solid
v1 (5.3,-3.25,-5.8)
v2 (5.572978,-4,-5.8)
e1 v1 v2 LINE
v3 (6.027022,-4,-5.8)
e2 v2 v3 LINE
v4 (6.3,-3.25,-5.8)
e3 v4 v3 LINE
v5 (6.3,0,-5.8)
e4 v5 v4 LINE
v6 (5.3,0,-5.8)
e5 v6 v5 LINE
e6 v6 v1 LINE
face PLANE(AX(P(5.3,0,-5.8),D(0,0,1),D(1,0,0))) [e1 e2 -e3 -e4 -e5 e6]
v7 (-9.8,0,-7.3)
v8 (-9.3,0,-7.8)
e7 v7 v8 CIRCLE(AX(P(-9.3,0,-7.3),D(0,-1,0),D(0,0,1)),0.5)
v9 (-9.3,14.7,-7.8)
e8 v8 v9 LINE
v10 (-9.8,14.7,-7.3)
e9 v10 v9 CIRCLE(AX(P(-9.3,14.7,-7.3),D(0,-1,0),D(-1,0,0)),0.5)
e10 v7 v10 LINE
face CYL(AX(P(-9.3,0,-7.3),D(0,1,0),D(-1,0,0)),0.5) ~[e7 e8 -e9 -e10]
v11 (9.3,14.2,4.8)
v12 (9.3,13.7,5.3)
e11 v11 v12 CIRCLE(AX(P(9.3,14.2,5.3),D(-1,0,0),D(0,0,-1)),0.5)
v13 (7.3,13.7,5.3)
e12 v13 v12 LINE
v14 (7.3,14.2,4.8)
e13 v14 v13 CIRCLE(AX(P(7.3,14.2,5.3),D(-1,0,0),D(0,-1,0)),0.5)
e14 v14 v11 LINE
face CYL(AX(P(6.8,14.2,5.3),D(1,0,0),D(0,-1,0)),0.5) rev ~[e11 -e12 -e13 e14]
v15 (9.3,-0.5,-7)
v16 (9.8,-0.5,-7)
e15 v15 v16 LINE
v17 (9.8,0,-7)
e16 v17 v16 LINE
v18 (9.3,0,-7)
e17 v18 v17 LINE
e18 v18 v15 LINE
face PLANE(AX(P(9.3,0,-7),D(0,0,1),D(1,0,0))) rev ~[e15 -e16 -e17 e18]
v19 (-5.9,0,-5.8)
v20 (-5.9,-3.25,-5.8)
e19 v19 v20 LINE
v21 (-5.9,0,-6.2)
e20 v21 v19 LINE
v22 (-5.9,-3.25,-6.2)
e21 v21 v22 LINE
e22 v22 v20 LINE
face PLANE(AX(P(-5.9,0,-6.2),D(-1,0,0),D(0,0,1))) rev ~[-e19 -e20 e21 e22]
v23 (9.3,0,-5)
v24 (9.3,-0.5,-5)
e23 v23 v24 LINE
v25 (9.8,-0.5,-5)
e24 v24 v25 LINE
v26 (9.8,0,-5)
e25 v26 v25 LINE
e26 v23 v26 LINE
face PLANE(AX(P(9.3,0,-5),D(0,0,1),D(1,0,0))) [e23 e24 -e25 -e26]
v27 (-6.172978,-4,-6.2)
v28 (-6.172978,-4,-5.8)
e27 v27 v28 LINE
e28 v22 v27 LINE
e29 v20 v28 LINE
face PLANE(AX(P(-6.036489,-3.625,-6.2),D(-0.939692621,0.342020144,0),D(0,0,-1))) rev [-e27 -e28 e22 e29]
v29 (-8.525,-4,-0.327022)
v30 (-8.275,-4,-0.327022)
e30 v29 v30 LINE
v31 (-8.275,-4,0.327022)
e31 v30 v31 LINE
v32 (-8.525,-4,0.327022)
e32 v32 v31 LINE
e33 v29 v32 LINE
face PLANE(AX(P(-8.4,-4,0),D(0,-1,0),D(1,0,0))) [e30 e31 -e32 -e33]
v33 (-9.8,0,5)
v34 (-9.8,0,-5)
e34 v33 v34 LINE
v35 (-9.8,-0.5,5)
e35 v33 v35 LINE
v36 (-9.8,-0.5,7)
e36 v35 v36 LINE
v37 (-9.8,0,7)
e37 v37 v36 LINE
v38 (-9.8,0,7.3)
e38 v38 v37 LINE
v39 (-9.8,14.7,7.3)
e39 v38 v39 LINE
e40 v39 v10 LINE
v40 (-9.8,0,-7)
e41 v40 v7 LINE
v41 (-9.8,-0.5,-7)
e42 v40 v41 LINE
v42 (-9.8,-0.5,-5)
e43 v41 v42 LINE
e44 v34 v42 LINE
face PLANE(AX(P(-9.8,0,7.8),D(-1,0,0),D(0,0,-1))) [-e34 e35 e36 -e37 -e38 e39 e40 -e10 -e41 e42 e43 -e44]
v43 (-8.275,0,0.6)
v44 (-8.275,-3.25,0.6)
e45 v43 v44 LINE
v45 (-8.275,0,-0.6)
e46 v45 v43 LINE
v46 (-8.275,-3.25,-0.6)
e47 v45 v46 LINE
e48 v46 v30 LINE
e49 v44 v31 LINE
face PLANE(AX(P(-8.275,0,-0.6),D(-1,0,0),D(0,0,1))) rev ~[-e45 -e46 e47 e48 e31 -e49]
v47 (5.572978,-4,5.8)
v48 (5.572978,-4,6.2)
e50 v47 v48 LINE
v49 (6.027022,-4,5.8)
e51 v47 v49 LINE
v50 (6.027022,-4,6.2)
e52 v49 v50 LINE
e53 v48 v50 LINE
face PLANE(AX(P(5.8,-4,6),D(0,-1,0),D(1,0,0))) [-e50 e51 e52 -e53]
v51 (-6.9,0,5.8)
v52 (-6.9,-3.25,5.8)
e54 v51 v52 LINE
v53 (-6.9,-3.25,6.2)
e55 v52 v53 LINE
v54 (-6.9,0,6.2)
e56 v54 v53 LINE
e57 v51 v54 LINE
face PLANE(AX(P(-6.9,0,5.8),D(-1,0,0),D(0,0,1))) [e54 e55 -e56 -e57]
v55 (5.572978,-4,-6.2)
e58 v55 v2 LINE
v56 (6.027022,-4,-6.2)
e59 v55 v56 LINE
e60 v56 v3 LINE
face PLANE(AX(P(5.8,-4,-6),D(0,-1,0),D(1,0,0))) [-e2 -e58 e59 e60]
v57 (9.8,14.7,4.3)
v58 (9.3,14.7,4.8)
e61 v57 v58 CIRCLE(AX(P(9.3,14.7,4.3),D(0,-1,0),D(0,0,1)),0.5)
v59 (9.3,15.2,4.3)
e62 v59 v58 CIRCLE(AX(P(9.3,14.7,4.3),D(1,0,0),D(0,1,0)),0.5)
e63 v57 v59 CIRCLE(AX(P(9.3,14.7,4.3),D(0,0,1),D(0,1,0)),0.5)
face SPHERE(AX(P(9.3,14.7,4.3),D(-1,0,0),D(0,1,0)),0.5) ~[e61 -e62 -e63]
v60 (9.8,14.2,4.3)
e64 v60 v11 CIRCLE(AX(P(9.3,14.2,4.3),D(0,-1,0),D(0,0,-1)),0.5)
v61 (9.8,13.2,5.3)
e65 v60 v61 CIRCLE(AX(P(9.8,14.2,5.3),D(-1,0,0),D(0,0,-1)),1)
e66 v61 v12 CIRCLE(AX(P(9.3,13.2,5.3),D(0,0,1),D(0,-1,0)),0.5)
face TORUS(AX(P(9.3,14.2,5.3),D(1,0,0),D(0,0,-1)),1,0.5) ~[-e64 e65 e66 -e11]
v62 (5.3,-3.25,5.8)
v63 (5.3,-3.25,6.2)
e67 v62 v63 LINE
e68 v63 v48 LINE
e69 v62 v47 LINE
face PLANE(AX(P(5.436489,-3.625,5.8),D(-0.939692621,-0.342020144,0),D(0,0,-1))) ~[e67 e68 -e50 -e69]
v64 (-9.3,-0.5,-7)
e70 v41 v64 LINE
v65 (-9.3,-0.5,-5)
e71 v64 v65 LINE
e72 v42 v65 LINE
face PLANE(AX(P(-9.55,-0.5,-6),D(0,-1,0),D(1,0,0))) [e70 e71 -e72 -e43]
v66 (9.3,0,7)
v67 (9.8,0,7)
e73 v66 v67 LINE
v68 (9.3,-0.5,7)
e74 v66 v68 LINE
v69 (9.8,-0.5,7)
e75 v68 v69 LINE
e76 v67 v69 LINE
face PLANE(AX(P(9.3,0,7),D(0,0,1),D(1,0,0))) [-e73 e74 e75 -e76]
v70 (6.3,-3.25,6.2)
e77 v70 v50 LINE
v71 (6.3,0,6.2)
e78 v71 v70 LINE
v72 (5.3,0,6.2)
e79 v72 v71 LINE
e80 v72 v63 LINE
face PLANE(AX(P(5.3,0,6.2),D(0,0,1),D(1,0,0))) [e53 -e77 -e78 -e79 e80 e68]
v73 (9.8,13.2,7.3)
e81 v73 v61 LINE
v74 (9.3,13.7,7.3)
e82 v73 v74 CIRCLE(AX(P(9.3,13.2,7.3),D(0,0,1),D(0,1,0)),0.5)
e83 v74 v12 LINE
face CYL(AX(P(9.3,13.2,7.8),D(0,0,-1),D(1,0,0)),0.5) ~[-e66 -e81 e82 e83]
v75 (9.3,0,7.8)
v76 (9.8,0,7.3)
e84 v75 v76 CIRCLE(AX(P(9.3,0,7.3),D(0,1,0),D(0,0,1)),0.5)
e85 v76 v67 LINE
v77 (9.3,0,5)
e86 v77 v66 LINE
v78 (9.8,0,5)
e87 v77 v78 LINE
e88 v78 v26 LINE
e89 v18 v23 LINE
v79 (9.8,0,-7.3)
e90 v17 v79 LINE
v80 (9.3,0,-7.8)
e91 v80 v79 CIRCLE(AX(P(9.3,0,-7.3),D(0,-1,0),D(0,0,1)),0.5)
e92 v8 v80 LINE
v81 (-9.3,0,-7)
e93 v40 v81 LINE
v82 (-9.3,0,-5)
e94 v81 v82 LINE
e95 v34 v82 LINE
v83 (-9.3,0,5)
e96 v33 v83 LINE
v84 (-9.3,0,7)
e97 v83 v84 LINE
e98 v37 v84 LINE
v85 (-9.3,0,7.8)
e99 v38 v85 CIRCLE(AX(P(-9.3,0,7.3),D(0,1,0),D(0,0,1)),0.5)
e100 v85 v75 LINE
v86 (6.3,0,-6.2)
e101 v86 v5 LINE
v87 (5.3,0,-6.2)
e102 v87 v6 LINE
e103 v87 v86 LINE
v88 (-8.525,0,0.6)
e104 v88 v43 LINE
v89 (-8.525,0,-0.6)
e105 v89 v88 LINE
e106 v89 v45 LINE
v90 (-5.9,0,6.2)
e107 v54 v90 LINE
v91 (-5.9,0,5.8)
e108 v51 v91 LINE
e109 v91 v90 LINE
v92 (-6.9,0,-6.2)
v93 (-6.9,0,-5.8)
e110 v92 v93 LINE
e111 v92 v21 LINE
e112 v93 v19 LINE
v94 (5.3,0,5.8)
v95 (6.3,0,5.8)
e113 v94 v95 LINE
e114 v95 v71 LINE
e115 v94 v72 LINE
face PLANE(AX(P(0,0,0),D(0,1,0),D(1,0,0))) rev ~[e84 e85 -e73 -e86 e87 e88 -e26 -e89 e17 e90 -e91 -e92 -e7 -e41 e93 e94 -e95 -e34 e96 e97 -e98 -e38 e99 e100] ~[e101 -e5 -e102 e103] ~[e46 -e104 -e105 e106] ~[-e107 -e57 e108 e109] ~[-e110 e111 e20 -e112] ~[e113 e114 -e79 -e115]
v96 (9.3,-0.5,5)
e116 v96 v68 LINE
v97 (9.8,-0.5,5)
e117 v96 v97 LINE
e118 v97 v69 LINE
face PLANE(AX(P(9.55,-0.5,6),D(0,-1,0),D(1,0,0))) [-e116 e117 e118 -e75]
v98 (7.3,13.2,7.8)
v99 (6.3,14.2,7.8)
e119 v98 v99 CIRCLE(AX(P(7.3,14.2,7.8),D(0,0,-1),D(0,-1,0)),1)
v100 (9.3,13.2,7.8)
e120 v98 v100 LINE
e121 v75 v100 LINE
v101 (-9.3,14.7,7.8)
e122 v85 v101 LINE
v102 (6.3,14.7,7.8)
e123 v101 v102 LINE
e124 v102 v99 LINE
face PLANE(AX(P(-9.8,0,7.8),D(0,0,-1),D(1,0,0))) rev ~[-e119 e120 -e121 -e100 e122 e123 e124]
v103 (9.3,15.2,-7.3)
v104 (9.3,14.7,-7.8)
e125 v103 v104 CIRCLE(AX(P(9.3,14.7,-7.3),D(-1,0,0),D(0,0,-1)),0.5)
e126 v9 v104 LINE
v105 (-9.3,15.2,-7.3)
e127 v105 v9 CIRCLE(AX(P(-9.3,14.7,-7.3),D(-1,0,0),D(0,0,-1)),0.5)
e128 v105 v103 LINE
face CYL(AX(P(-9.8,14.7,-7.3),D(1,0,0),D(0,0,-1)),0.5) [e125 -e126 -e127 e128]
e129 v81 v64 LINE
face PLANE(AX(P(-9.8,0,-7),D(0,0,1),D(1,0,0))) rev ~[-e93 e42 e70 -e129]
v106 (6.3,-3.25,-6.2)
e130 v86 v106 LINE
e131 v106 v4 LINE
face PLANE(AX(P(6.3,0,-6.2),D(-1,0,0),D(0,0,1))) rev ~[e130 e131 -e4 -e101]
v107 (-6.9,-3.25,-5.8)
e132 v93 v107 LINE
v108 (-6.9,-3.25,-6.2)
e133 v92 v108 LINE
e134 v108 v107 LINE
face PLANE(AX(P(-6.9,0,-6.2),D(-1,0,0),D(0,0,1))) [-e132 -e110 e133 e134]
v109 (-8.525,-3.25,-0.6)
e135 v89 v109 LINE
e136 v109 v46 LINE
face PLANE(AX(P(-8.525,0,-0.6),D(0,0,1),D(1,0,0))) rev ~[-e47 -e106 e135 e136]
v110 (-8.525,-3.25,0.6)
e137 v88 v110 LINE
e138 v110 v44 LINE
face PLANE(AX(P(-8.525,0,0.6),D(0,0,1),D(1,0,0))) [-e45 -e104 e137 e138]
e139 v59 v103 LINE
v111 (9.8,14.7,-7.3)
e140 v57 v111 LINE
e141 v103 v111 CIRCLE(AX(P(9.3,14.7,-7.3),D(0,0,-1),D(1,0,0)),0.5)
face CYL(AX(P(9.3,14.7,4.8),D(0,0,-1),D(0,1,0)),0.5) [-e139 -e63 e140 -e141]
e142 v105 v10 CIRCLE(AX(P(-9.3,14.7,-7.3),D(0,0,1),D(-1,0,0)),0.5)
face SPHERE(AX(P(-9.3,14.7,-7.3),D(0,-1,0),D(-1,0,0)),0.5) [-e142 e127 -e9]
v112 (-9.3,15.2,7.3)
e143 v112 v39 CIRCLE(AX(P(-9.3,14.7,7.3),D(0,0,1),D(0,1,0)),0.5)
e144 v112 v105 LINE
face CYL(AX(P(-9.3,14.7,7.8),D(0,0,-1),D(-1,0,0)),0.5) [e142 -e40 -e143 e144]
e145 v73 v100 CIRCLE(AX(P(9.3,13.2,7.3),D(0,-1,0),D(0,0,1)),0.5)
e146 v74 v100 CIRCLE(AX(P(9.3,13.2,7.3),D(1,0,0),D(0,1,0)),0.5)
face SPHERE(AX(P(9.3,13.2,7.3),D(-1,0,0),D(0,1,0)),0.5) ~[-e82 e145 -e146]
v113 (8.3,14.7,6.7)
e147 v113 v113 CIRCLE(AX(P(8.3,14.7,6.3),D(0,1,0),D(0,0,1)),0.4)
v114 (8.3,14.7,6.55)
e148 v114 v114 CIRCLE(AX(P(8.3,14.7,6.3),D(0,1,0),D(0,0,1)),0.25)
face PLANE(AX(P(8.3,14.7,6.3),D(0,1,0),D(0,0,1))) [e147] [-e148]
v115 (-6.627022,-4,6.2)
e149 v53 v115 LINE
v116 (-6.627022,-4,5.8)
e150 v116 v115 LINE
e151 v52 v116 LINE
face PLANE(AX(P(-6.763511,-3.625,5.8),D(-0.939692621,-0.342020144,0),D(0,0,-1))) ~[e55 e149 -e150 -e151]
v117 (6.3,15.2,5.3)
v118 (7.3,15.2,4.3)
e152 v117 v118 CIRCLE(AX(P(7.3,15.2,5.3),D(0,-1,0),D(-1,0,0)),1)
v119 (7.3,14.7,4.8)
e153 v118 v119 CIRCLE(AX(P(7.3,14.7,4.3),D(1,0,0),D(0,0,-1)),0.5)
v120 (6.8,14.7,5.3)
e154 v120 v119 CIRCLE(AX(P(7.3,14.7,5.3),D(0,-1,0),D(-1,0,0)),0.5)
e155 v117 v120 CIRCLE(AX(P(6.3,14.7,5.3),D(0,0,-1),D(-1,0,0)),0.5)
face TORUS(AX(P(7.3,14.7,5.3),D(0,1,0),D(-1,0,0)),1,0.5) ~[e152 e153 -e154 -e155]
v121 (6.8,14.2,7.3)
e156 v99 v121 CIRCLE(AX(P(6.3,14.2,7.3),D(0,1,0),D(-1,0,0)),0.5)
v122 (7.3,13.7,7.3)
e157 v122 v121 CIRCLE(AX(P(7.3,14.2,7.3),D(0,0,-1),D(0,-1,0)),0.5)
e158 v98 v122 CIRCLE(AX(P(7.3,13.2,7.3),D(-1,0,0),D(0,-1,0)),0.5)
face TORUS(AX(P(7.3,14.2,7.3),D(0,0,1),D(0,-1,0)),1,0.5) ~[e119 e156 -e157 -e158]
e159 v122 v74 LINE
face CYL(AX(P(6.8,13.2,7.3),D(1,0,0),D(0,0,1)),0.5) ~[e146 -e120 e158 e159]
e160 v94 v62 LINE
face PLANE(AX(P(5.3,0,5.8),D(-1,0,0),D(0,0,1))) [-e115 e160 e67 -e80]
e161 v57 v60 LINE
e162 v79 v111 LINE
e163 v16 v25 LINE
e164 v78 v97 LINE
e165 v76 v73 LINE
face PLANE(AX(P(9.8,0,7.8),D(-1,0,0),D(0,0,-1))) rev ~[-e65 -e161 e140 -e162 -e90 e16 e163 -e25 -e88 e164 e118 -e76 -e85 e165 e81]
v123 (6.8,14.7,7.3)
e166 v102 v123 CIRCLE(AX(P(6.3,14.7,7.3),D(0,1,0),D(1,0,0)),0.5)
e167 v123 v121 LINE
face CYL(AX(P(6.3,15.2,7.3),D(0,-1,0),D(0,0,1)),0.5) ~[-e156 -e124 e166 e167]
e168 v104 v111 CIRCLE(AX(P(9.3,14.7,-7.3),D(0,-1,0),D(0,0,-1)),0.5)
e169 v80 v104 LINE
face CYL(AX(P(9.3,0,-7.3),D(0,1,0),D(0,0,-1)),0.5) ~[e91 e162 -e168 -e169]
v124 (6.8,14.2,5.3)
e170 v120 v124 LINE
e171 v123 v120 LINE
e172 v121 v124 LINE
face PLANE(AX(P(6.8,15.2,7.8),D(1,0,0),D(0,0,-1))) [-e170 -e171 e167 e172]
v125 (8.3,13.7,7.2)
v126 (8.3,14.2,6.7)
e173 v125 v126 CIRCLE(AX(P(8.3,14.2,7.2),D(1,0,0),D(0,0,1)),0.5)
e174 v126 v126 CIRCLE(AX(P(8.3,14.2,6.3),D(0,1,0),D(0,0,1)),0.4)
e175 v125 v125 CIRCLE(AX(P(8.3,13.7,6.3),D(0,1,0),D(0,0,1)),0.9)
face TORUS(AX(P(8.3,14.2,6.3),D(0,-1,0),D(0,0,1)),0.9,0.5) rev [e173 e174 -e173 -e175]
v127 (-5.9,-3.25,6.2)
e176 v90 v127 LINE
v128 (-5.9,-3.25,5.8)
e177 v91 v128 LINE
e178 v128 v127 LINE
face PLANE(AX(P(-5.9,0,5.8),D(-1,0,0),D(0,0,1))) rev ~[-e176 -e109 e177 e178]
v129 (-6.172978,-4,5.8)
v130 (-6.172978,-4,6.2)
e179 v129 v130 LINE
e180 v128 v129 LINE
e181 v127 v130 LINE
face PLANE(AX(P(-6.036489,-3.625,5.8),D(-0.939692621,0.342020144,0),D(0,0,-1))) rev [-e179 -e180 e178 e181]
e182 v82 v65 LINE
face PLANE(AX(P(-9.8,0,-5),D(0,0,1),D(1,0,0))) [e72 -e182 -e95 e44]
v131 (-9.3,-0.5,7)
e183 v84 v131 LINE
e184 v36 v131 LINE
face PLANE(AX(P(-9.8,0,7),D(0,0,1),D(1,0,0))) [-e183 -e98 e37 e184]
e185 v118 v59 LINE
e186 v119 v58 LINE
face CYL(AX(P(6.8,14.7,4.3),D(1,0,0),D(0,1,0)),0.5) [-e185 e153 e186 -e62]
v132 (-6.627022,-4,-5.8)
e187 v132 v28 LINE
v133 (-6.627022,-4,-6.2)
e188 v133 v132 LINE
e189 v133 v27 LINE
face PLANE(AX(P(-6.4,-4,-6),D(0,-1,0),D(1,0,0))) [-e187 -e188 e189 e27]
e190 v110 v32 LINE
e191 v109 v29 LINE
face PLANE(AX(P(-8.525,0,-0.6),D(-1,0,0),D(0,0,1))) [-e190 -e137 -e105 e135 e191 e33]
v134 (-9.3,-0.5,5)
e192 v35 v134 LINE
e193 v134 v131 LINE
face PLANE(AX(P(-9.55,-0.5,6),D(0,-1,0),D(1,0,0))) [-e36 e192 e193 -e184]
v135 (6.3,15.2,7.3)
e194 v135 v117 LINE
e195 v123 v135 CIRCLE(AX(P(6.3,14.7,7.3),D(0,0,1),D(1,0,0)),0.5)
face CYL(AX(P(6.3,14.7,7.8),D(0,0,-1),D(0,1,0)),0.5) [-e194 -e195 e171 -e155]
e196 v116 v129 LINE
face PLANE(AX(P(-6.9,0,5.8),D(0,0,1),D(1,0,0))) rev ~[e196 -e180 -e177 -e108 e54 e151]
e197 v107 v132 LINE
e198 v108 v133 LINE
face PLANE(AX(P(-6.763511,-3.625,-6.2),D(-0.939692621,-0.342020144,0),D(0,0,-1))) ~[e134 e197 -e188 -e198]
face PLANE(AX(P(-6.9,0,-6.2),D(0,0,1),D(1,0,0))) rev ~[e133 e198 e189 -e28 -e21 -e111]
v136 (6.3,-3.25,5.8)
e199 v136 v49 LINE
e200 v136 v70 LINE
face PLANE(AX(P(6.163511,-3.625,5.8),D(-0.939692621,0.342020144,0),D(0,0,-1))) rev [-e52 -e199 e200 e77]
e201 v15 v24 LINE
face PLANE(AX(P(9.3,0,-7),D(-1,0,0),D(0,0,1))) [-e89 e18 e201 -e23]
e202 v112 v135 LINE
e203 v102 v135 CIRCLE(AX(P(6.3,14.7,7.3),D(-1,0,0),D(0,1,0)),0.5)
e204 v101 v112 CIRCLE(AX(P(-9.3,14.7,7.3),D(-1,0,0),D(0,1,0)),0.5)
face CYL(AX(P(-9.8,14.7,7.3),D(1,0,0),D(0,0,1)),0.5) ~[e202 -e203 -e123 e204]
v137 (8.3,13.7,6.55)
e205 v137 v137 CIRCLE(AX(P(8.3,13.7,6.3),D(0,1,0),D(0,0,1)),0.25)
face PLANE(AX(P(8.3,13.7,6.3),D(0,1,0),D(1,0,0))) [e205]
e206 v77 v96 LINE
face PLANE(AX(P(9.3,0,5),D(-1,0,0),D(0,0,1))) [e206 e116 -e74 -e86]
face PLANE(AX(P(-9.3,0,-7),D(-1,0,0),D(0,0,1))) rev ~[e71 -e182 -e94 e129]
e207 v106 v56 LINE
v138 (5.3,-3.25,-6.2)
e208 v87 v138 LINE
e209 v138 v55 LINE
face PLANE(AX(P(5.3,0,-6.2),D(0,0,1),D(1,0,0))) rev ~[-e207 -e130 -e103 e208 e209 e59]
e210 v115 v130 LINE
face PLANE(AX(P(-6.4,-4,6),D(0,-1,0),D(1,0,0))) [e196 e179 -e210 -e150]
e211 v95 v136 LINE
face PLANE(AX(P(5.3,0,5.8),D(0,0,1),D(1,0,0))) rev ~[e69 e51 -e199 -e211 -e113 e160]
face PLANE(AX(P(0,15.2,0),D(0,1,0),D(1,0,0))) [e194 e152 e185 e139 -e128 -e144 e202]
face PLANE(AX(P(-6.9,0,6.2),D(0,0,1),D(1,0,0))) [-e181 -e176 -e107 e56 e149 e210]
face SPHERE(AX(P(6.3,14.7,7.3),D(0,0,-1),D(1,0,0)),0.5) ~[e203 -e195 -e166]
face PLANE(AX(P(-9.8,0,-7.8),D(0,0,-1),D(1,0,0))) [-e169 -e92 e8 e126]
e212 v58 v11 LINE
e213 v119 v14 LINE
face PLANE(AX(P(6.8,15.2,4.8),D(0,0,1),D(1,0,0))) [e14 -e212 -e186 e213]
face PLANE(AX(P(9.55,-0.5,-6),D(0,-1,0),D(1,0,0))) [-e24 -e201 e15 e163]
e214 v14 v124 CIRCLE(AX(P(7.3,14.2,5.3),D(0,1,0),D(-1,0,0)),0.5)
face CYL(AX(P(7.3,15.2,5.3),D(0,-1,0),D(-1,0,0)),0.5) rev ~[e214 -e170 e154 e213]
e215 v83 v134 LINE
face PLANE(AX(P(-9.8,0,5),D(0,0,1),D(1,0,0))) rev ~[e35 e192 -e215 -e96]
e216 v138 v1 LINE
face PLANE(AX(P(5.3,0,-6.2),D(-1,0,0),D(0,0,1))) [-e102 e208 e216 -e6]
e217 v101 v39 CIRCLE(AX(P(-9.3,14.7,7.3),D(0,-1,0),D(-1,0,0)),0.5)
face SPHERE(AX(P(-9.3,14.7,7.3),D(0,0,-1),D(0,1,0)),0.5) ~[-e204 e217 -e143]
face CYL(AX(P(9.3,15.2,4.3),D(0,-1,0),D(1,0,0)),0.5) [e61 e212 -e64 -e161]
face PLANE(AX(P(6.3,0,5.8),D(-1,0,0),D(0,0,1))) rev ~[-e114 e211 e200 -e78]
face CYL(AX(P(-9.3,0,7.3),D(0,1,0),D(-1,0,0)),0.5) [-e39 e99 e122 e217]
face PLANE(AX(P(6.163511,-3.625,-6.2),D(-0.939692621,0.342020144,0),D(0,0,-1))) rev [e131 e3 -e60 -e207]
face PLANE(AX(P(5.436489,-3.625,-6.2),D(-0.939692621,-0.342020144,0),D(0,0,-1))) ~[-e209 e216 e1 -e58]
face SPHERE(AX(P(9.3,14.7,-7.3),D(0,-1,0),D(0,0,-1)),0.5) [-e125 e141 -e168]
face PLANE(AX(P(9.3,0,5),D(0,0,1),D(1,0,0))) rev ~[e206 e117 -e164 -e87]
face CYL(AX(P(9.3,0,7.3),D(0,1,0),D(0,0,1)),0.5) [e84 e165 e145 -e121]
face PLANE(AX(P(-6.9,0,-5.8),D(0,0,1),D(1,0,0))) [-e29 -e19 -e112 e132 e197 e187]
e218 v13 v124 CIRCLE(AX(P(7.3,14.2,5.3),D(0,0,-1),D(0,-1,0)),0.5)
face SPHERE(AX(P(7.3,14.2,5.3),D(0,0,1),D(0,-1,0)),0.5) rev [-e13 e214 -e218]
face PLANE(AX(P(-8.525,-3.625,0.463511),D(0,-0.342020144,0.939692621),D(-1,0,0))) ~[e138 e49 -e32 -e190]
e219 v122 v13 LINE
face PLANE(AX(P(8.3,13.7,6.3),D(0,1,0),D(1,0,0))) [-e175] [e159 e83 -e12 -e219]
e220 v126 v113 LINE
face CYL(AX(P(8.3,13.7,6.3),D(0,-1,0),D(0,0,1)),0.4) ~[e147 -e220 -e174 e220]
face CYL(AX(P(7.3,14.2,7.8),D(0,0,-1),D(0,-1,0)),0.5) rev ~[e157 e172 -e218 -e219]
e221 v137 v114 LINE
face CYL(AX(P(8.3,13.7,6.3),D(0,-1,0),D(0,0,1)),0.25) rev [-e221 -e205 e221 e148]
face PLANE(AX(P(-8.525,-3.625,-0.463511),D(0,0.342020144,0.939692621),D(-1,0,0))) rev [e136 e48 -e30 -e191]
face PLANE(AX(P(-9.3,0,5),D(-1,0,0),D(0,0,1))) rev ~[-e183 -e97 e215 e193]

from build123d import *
from OCP.BRepFilletAPI import BRepFilletAPI_MakeChamfer

# Parameters (mm, degrees)
SKETCH_1_W          = 19.6
SKETCH_1_H          = 15.6
EXTRUDE_1_DEPTH     = 15.2
SKETCH_2_W          = 3
SKETCH_2_H          = 3
CUT_EXTRUDE_1_DEPTH = 1.5
SKETCH_3_R          = 0.4
SKETCH_3_R_2        = 0.25
EXTRUDE_2_DEPTH     = 1
SKETCH_5_W          = 0.5
SKETCH_5_H          = 2
EXTRUDE_4_DEPTH     = 0.5
FILLET_1_R          = 0.5
SKETCH_4_W          = 0.25
SKETCH_4_H          = 1.2
SKETCH_4_W_2        = 1
SKETCH_4_H_2        = 0.4
EXTRUDE_3_DEPTH     = 4
CHAMFER_1_SIZE      = 0.75
CHAMFER_1_SIZE2     = 0.272977676


with BuildPart() as part:
    # Эскиз1 → Бобышка-Вытянуть1 (new body)
    with BuildSketch(Plane(origin=(0, 0, 0), x_dir=(1, 0, 0), z_dir=(0, 1, 0))):
        Rectangle(SKETCH_1_W, SKETCH_1_H)
    extrude(amount=EXTRUDE_1_DEPTH)

    # Эскиз2 → Вырез-Вытянуть1 (cut)
    with BuildSketch(Plane(origin=(0, 15.2, 0), x_dir=(1, 0, 0), z_dir=(0, 1, 0))):
        with Locations((8.3, -6.3)):
            Rectangle(SKETCH_2_W, SKETCH_2_H)
    extrude(amount=-CUT_EXTRUDE_1_DEPTH, mode=Mode.SUBTRACT)

    # Эскиз3 → Бобышка-Вытянуть2 (add)
    with BuildSketch(Plane(origin=(0, 13.7, 0), x_dir=(1, 0, 0), z_dir=(0, 1, 0))):
        with Locations(Location((8.3, -6.3, 0), (0, 0, 270))):
            Circle(SKETCH_3_R)
        with Locations(Location((8.3, -6.3, 0), (0, 0, 270))):
            Circle(SKETCH_3_R_2, mode=Mode.SUBTRACT)
    extrude(amount=EXTRUDE_2_DEPTH)

    # Эскиз5 → Бобышка-Вытянуть4 (add)
    with BuildSketch(Plane.XZ):
        with Locations((-9.55, 6)):
            Rectangle(SKETCH_5_W, SKETCH_5_H)
        with Locations((-9.55, -6)):
            Rectangle(SKETCH_5_W, SKETCH_5_H)
        with Locations((9.55, -6)):
            Rectangle(SKETCH_5_W, SKETCH_5_H)
        with Locations((9.55, 6)):
            Rectangle(SKETCH_5_W, SKETCH_5_H)
    extrude(amount=EXTRUDE_4_DEPTH)

    # Скругление1
    fillet_1_edges = [part.edges().sort_by_distance(p)[0] for p in [
        (8.3, 15.2, 4.8),
        (-9.8, 7.6, -7.8),
        (-9.8, 15.2, 0),
        (9.8, 7.6, -7.8),
        (0, 15.2, -7.8),
        (9.8, 15.2, -1.5),
        (8.3, 13.7, 5.9),
        (6.8, 13.7, 6.3),
        (8.3, 13.7, 4.8),
        (9.8, 14.45, 4.8),
        (8.3, 13.7, 7.8),
        (9.8, 13.7, 6.3),
        (6.8, 14.45, 4.8),
        (6.8, 15.2, 6.3),
        (6.8, 14.45, 7.8),
        (-1.5, 15.2, 7.8),
        (9.8, 6.85, 7.8),
        (-9.8, 7.6, 7.8),
    ]]
    fillet(fillet_1_edges, radius=FILLET_1_R)

    # Эскиз4 → Бобышка-Вытянуть3 (add)
    with BuildSketch(Plane.XZ):
        with Locations((-8.4, 0)):
            Rectangle(SKETCH_4_W, SKETCH_4_H)
        with Locations((-6.4, 6)):
            Rectangle(SKETCH_4_W_2, SKETCH_4_H_2)
        with Locations((5.8, 6)):
            Rectangle(SKETCH_4_W_2, SKETCH_4_H_2)
        with Locations((5.8, -6)):
            Rectangle(SKETCH_4_W_2, SKETCH_4_H_2)
        with Locations((-6.4, -6)):
            Rectangle(SKETCH_4_W_2, SKETCH_4_H_2)
    extrude(amount=EXTRUDE_3_DEPTH)

    # Фаска1: one chamfer whose edges measure the first distance from different faces: ONE call of the kernel's chamfer builder (chamfer() names one face for all edges)
    chamfer_1_edges_1 = [part.edges().sort_by_distance(p)[0] for p in [
        (-8.4, -4, 0.6),
    ]]
    chamfer_1_side_1 = [part.faces().sort_by_distance(p)[0] for p in [
        (-8.4, -2, 0.6),
    ]]
    chamfer_1_edges_2 = [part.edges().sort_by_distance(p)[0] for p in [
        (-8.4, -4, -0.6),
    ]]
    chamfer_1_side_2 = [part.faces().sort_by_distance(p)[0] for p in [
        (-8.4, -2, -0.6),
    ]]
    chamfer_1_edges_3 = [part.edges().sort_by_distance(p)[0] for p in [
        (-6.9, -4, 6),
    ]]
    chamfer_1_side_3 = [part.faces().sort_by_distance(p)[0] for p in [
        (-6.9, -2, 6),
    ]]
    chamfer_1_edges_4 = [part.edges().sort_by_distance(p)[0] for p in [
        (-5.9, -4, 6),
    ]]
    chamfer_1_side_4 = [part.faces().sort_by_distance(p)[0] for p in [
        (-5.9, -2, 6),
    ]]
    chamfer_1_edges_5 = [part.edges().sort_by_distance(p)[0] for p in [
        (5.3, -4, 6),
    ]]
    chamfer_1_side_5 = [part.faces().sort_by_distance(p)[0] for p in [
        (5.3, -2, 6),
    ]]
    chamfer_1_edges_6 = [part.edges().sort_by_distance(p)[0] for p in [
        (6.3, -4, 6),
    ]]
    chamfer_1_side_6 = [part.faces().sort_by_distance(p)[0] for p in [
        (6.3, -2, 6),
    ]]
    chamfer_1_edges_7 = [part.edges().sort_by_distance(p)[0] for p in [
        (6.3, -4, -6),
    ]]
    chamfer_1_side_7 = [part.faces().sort_by_distance(p)[0] for p in [
        (6.3, -2, -6),
    ]]
    chamfer_1_edges_8 = [part.edges().sort_by_distance(p)[0] for p in [
        (5.3, -4, -6),
    ]]
    chamfer_1_side_8 = [part.faces().sort_by_distance(p)[0] for p in [
        (5.3, -2, -6),
    ]]
    chamfer_1_edges_9 = [part.edges().sort_by_distance(p)[0] for p in [
        (-5.9, -4, -6),
    ]]
    chamfer_1_side_9 = [part.faces().sort_by_distance(p)[0] for p in [
        (-5.9, -2, -6),
    ]]
    chamfer_1_edges_10 = [part.edges().sort_by_distance(p)[0] for p in [
        (-6.9, -4, -6),
    ]]
    chamfer_1_side_10 = [part.faces().sort_by_distance(p)[0] for p in [
        (-6.9, -2, -6),
    ]]
    chamfer_1 = BRepFilletAPI_MakeChamfer(part.part.solid().wrapped)
    for e in chamfer_1_edges_1:
        chamfer_1.Add(CHAMFER_1_SIZE, CHAMFER_1_SIZE2, e.wrapped, chamfer_1_side_1[0].wrapped)  # the first distance lies on this face
    for e in chamfer_1_edges_2:
        chamfer_1.Add(CHAMFER_1_SIZE, CHAMFER_1_SIZE2, e.wrapped, chamfer_1_side_2[0].wrapped)  # the first distance lies on this face
    for e in chamfer_1_edges_3:
        chamfer_1.Add(CHAMFER_1_SIZE, CHAMFER_1_SIZE2, e.wrapped, chamfer_1_side_3[0].wrapped)  # the first distance lies on this face
    for e in chamfer_1_edges_4:
        chamfer_1.Add(CHAMFER_1_SIZE, CHAMFER_1_SIZE2, e.wrapped, chamfer_1_side_4[0].wrapped)  # the first distance lies on this face
    for e in chamfer_1_edges_5:
        chamfer_1.Add(CHAMFER_1_SIZE, CHAMFER_1_SIZE2, e.wrapped, chamfer_1_side_5[0].wrapped)  # the first distance lies on this face
    for e in chamfer_1_edges_6:
        chamfer_1.Add(CHAMFER_1_SIZE, CHAMFER_1_SIZE2, e.wrapped, chamfer_1_side_6[0].wrapped)  # the first distance lies on this face
    for e in chamfer_1_edges_7:
        chamfer_1.Add(CHAMFER_1_SIZE, CHAMFER_1_SIZE2, e.wrapped, chamfer_1_side_7[0].wrapped)  # the first distance lies on this face
    for e in chamfer_1_edges_8:
        chamfer_1.Add(CHAMFER_1_SIZE, CHAMFER_1_SIZE2, e.wrapped, chamfer_1_side_8[0].wrapped)  # the first distance lies on this face
    for e in chamfer_1_edges_9:
        chamfer_1.Add(CHAMFER_1_SIZE, CHAMFER_1_SIZE2, e.wrapped, chamfer_1_side_9[0].wrapped)  # the first distance lies on this face
    for e in chamfer_1_edges_10:
        chamfer_1.Add(CHAMFER_1_SIZE, CHAMFER_1_SIZE2, e.wrapped, chamfer_1_side_10[0].wrapped)  # the first distance lies on this face
    add(Compound.cast(chamfer_1.Shape()), mode=Mode.REPLACE)


solid = part.part
